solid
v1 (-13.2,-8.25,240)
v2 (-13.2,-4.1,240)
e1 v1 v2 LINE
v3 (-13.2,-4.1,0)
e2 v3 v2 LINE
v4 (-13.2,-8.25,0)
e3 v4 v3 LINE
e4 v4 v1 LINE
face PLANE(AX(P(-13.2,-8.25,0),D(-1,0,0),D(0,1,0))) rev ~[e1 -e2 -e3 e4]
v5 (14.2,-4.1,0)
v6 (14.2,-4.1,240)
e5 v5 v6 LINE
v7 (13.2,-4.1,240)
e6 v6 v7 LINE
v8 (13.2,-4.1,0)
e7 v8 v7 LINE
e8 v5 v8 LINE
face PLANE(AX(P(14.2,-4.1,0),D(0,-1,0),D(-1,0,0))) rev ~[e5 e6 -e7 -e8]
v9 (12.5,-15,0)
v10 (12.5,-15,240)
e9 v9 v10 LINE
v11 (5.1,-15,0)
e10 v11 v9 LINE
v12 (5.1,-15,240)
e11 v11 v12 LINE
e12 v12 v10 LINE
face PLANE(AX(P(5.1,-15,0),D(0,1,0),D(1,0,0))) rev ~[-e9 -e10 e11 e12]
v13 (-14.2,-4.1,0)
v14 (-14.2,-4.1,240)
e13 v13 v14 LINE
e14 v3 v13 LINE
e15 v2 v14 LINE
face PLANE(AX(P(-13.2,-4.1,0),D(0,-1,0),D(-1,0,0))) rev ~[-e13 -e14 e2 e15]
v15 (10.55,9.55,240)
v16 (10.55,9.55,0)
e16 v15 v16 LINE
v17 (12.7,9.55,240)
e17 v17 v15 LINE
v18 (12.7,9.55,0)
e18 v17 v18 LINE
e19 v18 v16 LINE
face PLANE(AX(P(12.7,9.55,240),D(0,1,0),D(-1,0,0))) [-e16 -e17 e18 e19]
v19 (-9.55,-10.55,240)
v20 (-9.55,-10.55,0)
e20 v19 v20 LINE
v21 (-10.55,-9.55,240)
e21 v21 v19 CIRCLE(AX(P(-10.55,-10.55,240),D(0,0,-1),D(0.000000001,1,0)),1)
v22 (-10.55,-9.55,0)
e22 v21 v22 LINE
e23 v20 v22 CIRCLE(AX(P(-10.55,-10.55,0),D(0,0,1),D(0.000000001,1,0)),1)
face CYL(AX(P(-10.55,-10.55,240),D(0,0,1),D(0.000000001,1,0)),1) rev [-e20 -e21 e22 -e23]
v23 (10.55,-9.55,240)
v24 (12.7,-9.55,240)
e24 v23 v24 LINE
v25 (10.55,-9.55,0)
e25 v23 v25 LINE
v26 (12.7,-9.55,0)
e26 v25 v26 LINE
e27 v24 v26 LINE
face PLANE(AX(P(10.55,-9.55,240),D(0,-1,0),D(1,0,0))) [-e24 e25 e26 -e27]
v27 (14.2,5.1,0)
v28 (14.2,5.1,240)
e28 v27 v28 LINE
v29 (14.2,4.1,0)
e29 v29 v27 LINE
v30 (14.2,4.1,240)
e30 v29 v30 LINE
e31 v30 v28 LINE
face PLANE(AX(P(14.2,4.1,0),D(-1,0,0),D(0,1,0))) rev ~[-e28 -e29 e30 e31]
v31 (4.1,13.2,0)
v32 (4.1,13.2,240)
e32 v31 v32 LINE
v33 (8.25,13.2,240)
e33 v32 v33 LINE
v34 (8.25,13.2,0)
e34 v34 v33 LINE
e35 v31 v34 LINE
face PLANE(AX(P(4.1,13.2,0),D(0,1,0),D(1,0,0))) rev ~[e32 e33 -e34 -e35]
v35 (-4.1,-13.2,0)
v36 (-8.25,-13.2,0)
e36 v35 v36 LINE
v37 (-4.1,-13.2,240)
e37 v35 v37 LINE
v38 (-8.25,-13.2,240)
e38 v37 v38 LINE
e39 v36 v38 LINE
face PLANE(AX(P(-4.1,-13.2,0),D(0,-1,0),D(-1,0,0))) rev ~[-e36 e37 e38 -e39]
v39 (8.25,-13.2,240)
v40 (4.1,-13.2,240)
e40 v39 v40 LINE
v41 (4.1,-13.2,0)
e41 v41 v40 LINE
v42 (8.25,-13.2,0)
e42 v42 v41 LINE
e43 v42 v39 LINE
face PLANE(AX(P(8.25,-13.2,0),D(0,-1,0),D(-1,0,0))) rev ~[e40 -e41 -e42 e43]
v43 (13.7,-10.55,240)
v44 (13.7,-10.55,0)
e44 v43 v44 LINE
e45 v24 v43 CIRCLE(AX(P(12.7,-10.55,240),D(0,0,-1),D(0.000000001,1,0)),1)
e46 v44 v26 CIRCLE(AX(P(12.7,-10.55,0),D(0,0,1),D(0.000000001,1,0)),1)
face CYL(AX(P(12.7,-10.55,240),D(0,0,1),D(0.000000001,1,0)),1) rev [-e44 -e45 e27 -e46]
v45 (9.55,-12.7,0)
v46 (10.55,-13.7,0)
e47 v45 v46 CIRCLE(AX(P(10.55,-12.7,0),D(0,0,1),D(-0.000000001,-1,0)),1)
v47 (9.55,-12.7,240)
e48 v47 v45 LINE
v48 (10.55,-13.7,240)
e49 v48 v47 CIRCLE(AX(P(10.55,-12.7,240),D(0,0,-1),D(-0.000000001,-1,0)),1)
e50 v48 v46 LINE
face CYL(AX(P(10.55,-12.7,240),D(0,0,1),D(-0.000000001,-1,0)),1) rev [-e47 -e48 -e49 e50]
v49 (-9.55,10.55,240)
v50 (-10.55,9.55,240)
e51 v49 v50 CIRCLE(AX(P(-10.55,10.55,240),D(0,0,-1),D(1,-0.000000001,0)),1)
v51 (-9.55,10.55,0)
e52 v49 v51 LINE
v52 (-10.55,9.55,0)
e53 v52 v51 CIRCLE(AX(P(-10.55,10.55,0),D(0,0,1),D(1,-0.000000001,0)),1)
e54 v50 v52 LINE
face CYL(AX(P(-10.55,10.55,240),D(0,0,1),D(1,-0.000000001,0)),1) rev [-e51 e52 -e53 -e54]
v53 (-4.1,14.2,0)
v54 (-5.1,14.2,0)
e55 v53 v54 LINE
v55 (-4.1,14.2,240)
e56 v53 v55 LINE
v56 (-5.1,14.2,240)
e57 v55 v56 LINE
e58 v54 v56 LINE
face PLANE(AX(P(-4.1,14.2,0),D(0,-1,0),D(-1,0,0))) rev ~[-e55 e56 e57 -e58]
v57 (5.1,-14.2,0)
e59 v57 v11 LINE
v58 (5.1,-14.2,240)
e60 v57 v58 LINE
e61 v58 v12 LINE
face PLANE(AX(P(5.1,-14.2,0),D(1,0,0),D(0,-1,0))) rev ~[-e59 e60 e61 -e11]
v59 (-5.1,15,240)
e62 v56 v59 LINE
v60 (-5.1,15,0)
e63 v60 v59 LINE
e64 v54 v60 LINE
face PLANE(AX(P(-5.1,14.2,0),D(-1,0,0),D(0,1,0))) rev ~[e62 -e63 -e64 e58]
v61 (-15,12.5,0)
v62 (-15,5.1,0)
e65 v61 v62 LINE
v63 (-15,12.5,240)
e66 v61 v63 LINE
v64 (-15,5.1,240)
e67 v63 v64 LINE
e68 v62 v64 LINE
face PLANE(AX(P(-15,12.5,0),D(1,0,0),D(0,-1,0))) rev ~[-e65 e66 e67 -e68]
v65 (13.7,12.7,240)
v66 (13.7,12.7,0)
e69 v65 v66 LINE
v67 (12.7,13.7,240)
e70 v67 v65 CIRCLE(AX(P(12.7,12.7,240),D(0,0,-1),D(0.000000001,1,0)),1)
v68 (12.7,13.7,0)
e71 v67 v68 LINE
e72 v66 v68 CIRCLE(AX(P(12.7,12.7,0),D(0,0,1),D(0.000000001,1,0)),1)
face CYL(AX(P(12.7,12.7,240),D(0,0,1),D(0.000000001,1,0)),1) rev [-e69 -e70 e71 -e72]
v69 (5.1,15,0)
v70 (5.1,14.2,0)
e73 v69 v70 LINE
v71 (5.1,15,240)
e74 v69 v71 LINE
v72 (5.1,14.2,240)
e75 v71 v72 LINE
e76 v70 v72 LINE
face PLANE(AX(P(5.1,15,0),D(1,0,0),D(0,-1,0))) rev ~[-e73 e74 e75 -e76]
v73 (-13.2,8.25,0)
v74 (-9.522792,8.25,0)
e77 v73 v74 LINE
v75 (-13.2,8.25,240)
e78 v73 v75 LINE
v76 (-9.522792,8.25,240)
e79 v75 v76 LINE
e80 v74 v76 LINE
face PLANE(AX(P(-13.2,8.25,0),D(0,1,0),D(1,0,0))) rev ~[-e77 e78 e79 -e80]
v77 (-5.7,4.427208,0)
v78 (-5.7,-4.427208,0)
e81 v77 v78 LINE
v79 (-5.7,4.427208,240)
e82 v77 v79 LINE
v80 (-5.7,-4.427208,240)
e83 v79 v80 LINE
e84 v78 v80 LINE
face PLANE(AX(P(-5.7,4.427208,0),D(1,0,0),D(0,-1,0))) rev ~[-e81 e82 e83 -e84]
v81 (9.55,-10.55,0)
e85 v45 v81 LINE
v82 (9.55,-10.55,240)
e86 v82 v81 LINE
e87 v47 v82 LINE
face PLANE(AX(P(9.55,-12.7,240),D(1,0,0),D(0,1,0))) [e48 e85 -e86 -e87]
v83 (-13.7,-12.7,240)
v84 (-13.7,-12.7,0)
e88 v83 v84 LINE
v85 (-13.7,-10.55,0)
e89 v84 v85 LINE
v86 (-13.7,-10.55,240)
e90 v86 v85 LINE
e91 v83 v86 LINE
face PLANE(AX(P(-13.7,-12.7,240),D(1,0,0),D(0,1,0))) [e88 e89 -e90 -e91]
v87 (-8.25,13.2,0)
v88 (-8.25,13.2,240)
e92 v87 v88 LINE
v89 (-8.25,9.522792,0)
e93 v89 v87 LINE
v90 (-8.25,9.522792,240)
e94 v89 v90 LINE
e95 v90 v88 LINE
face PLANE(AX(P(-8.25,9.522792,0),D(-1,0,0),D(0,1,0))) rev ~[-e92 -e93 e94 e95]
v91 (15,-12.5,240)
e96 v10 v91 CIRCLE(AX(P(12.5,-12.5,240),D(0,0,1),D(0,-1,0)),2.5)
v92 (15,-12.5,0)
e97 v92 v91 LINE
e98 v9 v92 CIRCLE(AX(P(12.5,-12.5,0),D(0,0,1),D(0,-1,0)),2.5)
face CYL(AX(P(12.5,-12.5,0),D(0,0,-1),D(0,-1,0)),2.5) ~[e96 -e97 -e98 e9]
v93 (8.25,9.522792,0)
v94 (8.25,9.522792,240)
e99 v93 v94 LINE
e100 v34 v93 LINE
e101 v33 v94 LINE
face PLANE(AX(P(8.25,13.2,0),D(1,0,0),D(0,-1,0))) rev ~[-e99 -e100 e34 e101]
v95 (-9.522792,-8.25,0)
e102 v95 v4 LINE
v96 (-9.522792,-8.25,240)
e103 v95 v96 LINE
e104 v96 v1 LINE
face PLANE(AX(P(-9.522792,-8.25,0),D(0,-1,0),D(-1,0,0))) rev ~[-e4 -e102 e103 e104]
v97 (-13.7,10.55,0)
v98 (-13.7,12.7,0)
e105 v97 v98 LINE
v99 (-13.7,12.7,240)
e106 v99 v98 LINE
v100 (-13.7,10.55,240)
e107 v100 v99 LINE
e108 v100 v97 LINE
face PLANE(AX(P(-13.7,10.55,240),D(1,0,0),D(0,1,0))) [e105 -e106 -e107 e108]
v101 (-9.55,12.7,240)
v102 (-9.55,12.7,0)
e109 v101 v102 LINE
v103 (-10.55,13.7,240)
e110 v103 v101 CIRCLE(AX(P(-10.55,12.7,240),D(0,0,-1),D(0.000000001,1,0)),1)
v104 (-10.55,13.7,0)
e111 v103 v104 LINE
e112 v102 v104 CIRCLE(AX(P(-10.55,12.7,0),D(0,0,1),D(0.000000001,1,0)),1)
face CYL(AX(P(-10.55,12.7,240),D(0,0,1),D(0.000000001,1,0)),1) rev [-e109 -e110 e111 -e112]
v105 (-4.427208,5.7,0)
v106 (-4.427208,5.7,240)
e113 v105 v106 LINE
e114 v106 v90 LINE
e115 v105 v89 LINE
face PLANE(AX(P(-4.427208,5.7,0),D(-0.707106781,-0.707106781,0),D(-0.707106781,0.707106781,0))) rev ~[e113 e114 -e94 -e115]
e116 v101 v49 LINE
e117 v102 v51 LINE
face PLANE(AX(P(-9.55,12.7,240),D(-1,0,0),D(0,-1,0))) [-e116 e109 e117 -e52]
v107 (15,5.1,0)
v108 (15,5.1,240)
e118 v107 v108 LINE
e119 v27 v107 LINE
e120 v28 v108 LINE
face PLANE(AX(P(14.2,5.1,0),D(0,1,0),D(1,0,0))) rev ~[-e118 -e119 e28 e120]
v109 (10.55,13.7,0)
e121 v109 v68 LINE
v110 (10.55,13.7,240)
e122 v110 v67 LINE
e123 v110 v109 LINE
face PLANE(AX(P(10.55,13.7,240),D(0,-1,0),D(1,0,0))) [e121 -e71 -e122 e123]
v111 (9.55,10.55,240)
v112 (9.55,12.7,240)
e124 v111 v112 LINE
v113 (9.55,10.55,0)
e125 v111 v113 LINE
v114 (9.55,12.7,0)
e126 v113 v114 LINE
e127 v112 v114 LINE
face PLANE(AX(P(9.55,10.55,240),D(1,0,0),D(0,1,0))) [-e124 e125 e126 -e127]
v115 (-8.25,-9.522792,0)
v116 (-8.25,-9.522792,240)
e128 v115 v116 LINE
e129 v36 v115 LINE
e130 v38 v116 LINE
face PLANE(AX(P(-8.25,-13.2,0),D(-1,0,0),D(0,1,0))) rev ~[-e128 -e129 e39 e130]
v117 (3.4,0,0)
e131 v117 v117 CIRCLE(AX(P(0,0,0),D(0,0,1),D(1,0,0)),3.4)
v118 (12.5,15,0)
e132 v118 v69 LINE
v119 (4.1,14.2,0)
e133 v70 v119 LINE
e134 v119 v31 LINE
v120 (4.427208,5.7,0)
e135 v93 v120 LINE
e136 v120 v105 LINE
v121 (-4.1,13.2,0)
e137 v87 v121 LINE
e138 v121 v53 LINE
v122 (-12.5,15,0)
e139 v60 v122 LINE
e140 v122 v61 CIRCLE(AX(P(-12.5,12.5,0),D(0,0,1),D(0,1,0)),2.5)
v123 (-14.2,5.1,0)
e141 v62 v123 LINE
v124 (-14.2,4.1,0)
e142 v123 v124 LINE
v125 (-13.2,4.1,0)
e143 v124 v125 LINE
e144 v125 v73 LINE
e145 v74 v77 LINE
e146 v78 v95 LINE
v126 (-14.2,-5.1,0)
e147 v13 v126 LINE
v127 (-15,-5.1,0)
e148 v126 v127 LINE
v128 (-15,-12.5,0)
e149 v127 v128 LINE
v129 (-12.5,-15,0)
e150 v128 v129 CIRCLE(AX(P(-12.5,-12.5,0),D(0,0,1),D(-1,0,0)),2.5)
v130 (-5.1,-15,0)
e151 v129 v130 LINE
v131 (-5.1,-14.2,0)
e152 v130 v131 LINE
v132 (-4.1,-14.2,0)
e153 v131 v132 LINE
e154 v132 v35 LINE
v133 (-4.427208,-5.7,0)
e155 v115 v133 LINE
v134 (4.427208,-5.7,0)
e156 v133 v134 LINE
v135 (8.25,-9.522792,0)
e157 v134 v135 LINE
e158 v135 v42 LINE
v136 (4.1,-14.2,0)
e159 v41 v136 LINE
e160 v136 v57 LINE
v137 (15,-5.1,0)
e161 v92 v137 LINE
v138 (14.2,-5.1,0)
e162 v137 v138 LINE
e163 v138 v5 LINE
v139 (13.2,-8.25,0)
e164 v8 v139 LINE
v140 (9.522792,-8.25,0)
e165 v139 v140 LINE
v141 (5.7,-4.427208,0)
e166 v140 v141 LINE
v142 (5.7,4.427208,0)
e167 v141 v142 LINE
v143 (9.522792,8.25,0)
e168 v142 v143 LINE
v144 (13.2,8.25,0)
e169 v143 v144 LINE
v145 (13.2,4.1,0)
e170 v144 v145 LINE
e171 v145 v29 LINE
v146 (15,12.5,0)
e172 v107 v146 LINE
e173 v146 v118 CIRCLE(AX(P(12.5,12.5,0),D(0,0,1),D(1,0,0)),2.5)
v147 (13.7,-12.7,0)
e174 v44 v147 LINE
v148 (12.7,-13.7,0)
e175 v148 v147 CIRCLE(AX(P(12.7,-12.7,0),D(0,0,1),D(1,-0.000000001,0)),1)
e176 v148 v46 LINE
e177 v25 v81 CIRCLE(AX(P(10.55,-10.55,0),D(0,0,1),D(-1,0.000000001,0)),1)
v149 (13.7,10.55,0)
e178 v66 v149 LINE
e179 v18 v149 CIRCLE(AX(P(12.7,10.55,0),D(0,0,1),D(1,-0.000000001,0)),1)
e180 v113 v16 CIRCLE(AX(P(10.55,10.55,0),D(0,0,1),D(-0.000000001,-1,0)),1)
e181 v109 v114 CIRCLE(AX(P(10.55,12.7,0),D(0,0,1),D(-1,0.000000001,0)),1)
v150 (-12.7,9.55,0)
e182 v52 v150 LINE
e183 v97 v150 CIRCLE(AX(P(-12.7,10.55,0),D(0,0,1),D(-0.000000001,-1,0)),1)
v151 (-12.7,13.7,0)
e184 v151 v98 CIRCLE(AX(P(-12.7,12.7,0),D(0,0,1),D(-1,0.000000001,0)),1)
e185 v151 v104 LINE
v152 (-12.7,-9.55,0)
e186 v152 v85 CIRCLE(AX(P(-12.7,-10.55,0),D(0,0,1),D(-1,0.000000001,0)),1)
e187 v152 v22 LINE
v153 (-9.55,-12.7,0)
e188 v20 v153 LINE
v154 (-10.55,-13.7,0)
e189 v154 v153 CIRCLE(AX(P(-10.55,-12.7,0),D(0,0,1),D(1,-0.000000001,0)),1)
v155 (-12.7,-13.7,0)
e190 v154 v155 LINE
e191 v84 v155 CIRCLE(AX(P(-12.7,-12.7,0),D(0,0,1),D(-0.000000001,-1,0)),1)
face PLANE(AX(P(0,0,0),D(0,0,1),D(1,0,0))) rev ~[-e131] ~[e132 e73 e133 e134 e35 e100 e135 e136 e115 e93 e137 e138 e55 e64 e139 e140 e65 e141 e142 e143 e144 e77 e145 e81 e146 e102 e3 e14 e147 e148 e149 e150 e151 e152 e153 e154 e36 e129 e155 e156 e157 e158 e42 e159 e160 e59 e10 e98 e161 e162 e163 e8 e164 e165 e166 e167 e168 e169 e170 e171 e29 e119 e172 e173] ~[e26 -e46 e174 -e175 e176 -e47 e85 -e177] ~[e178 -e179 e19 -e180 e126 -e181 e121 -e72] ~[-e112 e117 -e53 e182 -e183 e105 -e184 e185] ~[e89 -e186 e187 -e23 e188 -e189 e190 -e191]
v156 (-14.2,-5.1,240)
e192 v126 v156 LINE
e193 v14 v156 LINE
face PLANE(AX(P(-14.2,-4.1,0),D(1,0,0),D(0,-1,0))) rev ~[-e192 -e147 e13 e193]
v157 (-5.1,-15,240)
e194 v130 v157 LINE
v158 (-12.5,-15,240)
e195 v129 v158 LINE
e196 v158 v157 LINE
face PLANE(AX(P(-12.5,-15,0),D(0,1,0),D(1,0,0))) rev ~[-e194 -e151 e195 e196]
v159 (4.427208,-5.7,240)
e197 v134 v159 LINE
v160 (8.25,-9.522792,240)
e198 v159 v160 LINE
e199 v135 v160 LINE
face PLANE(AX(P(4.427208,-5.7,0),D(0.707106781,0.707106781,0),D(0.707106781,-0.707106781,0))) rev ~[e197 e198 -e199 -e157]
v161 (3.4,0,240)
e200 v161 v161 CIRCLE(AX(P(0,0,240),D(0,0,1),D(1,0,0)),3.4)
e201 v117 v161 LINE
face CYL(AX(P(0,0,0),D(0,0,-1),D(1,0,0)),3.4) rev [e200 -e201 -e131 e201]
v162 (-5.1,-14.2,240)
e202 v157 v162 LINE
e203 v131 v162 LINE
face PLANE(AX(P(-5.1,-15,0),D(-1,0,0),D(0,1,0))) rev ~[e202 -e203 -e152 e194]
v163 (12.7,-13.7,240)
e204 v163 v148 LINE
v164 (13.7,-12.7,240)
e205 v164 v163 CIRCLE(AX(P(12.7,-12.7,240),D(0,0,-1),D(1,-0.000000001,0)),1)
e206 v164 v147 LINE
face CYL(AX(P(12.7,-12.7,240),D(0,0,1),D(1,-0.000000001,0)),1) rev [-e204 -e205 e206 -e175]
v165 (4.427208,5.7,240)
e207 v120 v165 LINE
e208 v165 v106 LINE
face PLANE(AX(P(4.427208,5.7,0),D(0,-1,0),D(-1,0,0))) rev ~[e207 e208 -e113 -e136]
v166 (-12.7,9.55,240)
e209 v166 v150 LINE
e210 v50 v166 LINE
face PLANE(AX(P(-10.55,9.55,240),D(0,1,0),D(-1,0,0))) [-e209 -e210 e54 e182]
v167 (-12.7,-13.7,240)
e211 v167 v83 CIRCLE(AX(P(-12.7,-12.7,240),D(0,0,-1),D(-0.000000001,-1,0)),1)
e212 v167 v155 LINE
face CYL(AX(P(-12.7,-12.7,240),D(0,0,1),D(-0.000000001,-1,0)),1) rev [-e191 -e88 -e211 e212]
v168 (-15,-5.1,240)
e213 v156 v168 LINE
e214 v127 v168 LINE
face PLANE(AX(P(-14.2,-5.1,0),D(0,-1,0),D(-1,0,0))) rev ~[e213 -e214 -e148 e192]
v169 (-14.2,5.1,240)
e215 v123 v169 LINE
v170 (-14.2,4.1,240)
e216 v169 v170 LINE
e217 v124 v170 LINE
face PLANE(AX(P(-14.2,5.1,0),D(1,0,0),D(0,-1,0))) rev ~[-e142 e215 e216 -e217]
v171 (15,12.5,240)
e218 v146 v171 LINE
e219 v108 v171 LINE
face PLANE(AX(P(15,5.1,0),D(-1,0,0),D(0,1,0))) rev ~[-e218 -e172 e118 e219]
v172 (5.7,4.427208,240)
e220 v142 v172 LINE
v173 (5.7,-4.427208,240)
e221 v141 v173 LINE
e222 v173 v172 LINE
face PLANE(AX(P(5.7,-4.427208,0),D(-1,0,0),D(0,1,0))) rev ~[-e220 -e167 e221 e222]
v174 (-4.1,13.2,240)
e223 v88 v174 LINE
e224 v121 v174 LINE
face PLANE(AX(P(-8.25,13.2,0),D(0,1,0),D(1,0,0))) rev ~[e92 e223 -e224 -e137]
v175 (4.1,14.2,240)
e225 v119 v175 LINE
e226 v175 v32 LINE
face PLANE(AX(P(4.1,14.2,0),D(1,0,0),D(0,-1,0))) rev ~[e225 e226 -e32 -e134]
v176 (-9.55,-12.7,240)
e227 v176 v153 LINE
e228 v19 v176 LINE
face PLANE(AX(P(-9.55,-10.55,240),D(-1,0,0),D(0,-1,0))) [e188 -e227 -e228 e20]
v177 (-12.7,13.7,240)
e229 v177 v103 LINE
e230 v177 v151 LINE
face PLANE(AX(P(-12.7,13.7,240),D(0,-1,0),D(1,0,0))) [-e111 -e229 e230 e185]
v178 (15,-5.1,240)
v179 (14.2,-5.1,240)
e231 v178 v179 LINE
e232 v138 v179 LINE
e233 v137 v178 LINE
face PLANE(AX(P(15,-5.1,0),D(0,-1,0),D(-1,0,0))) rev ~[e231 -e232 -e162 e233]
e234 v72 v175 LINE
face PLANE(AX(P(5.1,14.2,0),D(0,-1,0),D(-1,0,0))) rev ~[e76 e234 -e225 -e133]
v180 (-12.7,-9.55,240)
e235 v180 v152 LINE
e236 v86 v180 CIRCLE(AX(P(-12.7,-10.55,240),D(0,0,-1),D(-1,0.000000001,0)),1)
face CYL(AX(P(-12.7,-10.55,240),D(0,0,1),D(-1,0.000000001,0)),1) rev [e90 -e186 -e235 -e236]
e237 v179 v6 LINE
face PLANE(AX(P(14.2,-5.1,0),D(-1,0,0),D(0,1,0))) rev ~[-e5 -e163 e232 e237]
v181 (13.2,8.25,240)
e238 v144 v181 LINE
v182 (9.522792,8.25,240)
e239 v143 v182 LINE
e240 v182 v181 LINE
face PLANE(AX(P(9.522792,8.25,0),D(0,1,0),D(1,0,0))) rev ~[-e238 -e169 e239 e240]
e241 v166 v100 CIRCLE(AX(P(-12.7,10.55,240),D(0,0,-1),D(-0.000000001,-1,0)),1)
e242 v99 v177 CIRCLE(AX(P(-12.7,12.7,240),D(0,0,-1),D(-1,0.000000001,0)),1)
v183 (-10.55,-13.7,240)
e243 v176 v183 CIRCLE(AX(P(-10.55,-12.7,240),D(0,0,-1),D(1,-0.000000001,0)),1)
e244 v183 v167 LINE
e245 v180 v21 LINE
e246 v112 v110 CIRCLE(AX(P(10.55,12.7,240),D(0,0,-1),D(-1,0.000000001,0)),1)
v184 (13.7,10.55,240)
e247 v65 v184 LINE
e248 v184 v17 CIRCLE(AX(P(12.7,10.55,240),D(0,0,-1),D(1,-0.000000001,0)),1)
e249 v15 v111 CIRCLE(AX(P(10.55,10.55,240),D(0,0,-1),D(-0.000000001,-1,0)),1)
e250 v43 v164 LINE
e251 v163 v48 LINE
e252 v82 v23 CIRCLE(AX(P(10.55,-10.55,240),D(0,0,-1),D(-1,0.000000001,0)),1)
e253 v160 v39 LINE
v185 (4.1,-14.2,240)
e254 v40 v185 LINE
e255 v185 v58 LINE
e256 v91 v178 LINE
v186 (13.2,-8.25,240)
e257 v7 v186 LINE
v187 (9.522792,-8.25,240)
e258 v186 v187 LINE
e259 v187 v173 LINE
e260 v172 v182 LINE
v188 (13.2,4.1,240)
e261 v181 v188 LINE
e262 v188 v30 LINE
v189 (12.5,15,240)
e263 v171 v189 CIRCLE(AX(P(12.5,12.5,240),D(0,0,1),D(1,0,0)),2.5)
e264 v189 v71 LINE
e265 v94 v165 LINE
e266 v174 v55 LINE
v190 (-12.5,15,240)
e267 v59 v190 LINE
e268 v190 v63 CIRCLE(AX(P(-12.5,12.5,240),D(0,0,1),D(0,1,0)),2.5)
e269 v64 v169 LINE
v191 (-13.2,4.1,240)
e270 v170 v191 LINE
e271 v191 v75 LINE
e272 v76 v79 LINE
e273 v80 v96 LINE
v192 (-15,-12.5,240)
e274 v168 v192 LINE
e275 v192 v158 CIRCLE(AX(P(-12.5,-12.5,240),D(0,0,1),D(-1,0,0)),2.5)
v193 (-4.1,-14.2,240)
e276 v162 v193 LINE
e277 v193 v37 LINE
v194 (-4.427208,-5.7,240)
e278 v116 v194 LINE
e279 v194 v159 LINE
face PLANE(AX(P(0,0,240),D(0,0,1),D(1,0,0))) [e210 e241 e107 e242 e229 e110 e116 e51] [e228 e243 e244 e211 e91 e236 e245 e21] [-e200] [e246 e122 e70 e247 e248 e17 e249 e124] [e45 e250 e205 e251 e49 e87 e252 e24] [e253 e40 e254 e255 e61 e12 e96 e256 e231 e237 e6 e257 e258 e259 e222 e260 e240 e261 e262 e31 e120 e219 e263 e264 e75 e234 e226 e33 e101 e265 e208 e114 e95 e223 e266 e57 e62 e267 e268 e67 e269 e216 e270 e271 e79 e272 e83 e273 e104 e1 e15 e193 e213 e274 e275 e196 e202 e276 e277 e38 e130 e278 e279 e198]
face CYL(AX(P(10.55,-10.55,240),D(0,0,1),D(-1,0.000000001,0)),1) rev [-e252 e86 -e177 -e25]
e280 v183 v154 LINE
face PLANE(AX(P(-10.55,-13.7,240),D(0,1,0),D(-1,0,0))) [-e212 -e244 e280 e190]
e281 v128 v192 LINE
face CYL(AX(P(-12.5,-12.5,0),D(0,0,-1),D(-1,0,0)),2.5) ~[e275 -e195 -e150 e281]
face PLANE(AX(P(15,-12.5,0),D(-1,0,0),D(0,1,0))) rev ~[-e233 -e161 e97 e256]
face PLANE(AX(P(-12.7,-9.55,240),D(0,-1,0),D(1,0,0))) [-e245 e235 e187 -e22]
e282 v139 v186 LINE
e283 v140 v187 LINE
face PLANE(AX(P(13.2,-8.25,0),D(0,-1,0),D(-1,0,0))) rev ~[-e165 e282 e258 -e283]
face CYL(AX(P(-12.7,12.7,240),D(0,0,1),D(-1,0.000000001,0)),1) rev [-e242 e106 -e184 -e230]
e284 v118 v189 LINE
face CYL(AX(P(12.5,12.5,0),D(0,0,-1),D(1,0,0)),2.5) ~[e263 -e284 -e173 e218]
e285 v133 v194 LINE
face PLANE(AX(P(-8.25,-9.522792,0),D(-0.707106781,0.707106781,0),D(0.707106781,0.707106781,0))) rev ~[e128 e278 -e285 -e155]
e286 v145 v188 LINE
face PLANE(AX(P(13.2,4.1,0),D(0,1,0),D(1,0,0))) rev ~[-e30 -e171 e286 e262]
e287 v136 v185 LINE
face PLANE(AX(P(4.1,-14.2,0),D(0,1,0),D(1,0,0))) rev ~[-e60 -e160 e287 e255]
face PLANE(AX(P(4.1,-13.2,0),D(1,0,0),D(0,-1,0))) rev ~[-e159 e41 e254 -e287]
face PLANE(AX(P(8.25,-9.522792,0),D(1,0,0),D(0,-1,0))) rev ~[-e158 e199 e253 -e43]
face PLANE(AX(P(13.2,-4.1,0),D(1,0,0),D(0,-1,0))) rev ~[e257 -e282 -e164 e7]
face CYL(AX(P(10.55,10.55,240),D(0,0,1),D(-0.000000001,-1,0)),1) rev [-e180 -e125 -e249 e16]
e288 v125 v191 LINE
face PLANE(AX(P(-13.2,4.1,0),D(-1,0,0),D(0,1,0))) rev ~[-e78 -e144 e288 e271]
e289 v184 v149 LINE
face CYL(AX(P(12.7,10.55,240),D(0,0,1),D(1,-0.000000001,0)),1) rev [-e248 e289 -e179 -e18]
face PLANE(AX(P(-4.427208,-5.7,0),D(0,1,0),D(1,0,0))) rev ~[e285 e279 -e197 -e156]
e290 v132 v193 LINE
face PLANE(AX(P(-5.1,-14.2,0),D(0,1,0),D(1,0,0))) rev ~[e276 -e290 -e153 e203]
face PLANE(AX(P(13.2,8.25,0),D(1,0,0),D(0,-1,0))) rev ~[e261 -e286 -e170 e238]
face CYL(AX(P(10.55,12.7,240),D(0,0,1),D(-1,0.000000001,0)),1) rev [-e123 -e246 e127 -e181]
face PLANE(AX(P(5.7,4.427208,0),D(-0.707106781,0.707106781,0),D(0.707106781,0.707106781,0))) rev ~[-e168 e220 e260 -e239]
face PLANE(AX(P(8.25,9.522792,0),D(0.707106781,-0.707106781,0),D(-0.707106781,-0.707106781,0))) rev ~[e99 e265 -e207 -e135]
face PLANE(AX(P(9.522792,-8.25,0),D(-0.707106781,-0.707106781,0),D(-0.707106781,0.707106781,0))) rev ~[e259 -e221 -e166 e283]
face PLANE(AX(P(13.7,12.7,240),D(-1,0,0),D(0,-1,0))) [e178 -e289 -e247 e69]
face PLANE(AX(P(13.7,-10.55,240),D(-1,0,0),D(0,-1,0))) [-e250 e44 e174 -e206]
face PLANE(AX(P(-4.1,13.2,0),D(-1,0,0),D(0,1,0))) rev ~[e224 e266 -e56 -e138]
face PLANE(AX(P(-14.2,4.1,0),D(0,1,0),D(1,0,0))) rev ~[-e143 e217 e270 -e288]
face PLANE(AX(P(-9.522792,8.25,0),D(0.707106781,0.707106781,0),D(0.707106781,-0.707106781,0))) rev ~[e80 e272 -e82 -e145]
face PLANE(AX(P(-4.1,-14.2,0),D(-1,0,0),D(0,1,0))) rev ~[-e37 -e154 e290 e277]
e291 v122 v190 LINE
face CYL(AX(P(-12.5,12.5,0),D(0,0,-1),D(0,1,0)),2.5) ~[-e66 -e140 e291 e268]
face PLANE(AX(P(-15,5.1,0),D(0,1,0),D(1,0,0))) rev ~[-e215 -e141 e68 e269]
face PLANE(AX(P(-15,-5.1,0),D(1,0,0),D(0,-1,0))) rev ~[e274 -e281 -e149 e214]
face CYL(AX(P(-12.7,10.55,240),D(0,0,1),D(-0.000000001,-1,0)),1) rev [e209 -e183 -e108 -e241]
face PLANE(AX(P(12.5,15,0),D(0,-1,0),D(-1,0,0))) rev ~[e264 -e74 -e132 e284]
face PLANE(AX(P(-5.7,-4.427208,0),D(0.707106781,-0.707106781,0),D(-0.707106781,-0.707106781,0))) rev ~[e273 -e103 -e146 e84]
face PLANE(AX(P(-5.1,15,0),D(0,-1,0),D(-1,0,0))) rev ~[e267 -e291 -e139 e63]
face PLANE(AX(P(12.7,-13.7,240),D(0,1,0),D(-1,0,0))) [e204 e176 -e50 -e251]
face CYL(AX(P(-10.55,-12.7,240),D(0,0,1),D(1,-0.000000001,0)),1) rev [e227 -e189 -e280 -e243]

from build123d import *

# Parameters (mm, degrees)
SKETCH1_R      = 3.4
EXTRUDE1_DEPTH = 240
EXTRUDE2_DEPTH = 241.935676063


with BuildPart() as part:
    # Sketch1 → Extrude1 (new body)
    with BuildSketch(Plane.XY):
        with BuildLine():
            Line((-5.1, 14.2), (-5.1, 15))
            Line((-5.1, 15), (-12.5, 15))
            ThreePointArc((-12.5, 15), (-14.267766953, 14.267766953), (-15, 12.5))
            Line((-15, 12.5), (-15, 5.1))
            Line((-15, 5.1), (-14.2, 5.1))
            Line((-14.2, 5.1), (-14.2, 4.1))
            Line((-14.2, 4.1), (-13.2, 4.1))
            Line((-13.2, 4.1), (-13.2, 8.25))
            Line((-13.2, 8.25), (-9.522792206, 8.25))
            Line((-9.522792206, 8.25), (-5.7, 4.427207794))
            Line((-5.7, 4.427207794), (-5.7, -4.427207794))
            Line((-5.7, -4.427207794), (-9.522792206, -8.25))
            Line((-9.522792206, -8.25), (-13.2, -8.25))
            Line((-13.2, -8.25), (-13.2, -4.1))
            Line((-13.2, -4.1), (-14.2, -4.1))
            Line((-14.2, -4.1), (-14.2, -5.1))
            Line((-14.2, -5.1), (-15, -5.1))
            Line((-15, -5.1), (-15, -12.5))
            ThreePointArc((-15, -12.5), (-14.267766953, -14.267766953), (-12.5, -15))
            Line((-12.5, -15), (-5.1, -15))
            Line((-5.1, -15), (-5.1, -14.2))
            Line((-5.1, -14.2), (-4.1, -14.2))
            Line((-4.1, -14.2), (-4.1, -13.2))
            Line((-4.1, -13.2), (-8.25, -13.2))
            Line((-8.25, -13.2), (-8.25, -9.522792206))
            Line((-8.25, -9.522792206), (-4.427207794, -5.7))
            Line((-4.427207794, -5.7), (4.427207794, -5.7))
            Line((4.427207794, -5.7), (8.25, -9.522792206))
            Line((8.25, -9.522792206), (8.25, -13.2))
            Line((8.25, -13.2), (4.1, -13.2))
            Line((4.1, -13.2), (4.1, -14.2))
            Line((4.1, -14.2), (5.1, -14.2))
            Line((5.1, -14.2), (5.1, -15))
            Line((5.1, -15), (12.5, -15))
            ThreePointArc((12.5, -15), (14.267766953, -14.267766953), (15, -12.5))
            Line((15, -12.5), (15, -5.1))
            Line((15, -5.1), (14.2, -5.1))
            Line((14.2, -5.1), (14.2, -4.1))
            Line((14.2, -4.1), (13.2, -4.1))
            Line((13.2, -4.1), (13.2, -8.25))
            Line((13.2, -8.25), (9.522792206, -8.25))
            Line((9.522792206, -8.25), (5.7, -4.427207794))
            Line((5.7, -4.427207794), (5.7, 4.427207794))
            Line((5.7, 4.427207794), (9.522792206, 8.25))
            Line((9.522792206, 8.25), (13.2, 8.25))
            Line((13.2, 8.25), (13.2, 4.1))
            Line((13.2, 4.1), (14.2, 4.1))
            Line((14.2, 4.1), (14.2, 5.1))
            Line((14.2, 5.1), (15, 5.1))
            Line((15, 5.1), (15, 12.5))
            ThreePointArc((15, 12.5), (14.267766953, 14.267766953), (12.5, 15))
            Line((12.5, 15), (5.1, 15))
            Line((5.1, 15), (5.1, 14.2))
            Line((5.1, 14.2), (4.1, 14.2))
            Line((4.1, 14.2), (4.1, 13.2))
            Line((4.1, 13.2), (8.25, 13.2))
            Line((8.25, 13.2), (8.25, 9.522792206))
            Line((8.25, 9.522792206), (4.427207794, 5.7))
            Line((4.427207794, 5.7), (-4.427207794, 5.7))
            Line((-4.427207794, 5.7), (-8.25, 9.522792206))
            Line((-8.25, 9.522792206), (-8.25, 13.2))
            Line((-8.25, 13.2), (-4.1, 13.2))
            Line((-4.1, 13.2), (-4.1, 14.2))
            Line((-4.1, 14.2), (-5.1, 14.2))
        make_face()
        Circle(SKETCH1_R, mode=Mode.SUBTRACT)
    extrude(amount=EXTRUDE1_DEPTH)

    # Sketch2 → Extrude2 (cut, through all)
    with BuildSketch(Plane.XY.offset(240)):
        with BuildLine():
            Line((13.7, 12.7), (13.7, 10.55))
            ThreePointArc((13.7, 10.55), (13.407106781, 9.842893219), (12.7, 9.55))
            Line((12.7, 9.55), (10.55, 9.55))
            ThreePointArc((10.55, 9.55), (9.842893219, 9.842893219), (9.55, 10.55))
            Line((9.55, 10.55), (9.55, 12.7))
            ThreePointArc((9.55, 12.7), (9.842893219, 13.407106781), (10.55, 13.7))
            Line((10.55, 13.7), (12.7, 13.7))
            ThreePointArc((12.7, 13.7), (13.407106781, 13.407106781), (13.7, 12.7))
        make_face()
        with BuildLine():
            Line((-12.7, 13.7), (-10.55, 13.7))
            ThreePointArc((-10.55, 13.7), (-9.842893219, 13.407106781), (-9.55, 12.7))
            Line((-9.55, 12.7), (-9.55, 10.55))
            ThreePointArc((-9.55, 10.55), (-9.842893219, 9.842893219), (-10.55, 9.55))
            Line((-10.55, 9.55), (-12.7, 9.55))
            ThreePointArc((-12.7, 9.55), (-13.407106781, 9.842893219), (-13.7, 10.55))
            Line((-13.7, 10.55), (-13.7, 12.7))
            ThreePointArc((-13.7, 12.7), (-13.407106781, 13.407106781), (-12.7, 13.7))
        make_face()
        with BuildLine():
            Line((12.7, -13.7), (10.55, -13.7))
            ThreePointArc((10.55, -13.7), (9.842893219, -13.407106781), (9.55, -12.7))
            Line((9.55, -12.7), (9.55, -10.55))
            ThreePointArc((9.55, -10.55), (9.842893219, -9.842893219), (10.55, -9.55))
            Line((10.55, -9.55), (12.7, -9.55))
            ThreePointArc((12.7, -9.55), (13.407106781, -9.842893219), (13.7, -10.55))
            Line((13.7, -10.55), (13.7, -12.7))
            ThreePointArc((13.7, -12.7), (13.407106781, -13.407106781), (12.7, -13.7))
        make_face()
        with BuildLine():
            Line((-13.7, -12.7), (-13.7, -10.55))
            ThreePointArc((-13.7, -10.55), (-13.407106781, -9.842893219), (-12.7, -9.55))
            Line((-12.7, -9.55), (-10.55, -9.55))
            ThreePointArc((-10.55, -9.55), (-9.842893219, -9.842893219), (-9.55, -10.55))
            Line((-9.55, -10.55), (-9.55, -12.7))
            ThreePointArc((-9.55, -12.7), (-9.842893219, -13.407106781), (-10.55, -13.7))
            Line((-10.55, -13.7), (-12.7, -13.7))
            ThreePointArc((-12.7, -13.7), (-13.407106781, -13.407106781), (-13.7, -12.7))
        make_face()
    extrude(amount=-EXTRUDE2_DEPTH, mode=Mode.SUBTRACT)


solid = part.part
